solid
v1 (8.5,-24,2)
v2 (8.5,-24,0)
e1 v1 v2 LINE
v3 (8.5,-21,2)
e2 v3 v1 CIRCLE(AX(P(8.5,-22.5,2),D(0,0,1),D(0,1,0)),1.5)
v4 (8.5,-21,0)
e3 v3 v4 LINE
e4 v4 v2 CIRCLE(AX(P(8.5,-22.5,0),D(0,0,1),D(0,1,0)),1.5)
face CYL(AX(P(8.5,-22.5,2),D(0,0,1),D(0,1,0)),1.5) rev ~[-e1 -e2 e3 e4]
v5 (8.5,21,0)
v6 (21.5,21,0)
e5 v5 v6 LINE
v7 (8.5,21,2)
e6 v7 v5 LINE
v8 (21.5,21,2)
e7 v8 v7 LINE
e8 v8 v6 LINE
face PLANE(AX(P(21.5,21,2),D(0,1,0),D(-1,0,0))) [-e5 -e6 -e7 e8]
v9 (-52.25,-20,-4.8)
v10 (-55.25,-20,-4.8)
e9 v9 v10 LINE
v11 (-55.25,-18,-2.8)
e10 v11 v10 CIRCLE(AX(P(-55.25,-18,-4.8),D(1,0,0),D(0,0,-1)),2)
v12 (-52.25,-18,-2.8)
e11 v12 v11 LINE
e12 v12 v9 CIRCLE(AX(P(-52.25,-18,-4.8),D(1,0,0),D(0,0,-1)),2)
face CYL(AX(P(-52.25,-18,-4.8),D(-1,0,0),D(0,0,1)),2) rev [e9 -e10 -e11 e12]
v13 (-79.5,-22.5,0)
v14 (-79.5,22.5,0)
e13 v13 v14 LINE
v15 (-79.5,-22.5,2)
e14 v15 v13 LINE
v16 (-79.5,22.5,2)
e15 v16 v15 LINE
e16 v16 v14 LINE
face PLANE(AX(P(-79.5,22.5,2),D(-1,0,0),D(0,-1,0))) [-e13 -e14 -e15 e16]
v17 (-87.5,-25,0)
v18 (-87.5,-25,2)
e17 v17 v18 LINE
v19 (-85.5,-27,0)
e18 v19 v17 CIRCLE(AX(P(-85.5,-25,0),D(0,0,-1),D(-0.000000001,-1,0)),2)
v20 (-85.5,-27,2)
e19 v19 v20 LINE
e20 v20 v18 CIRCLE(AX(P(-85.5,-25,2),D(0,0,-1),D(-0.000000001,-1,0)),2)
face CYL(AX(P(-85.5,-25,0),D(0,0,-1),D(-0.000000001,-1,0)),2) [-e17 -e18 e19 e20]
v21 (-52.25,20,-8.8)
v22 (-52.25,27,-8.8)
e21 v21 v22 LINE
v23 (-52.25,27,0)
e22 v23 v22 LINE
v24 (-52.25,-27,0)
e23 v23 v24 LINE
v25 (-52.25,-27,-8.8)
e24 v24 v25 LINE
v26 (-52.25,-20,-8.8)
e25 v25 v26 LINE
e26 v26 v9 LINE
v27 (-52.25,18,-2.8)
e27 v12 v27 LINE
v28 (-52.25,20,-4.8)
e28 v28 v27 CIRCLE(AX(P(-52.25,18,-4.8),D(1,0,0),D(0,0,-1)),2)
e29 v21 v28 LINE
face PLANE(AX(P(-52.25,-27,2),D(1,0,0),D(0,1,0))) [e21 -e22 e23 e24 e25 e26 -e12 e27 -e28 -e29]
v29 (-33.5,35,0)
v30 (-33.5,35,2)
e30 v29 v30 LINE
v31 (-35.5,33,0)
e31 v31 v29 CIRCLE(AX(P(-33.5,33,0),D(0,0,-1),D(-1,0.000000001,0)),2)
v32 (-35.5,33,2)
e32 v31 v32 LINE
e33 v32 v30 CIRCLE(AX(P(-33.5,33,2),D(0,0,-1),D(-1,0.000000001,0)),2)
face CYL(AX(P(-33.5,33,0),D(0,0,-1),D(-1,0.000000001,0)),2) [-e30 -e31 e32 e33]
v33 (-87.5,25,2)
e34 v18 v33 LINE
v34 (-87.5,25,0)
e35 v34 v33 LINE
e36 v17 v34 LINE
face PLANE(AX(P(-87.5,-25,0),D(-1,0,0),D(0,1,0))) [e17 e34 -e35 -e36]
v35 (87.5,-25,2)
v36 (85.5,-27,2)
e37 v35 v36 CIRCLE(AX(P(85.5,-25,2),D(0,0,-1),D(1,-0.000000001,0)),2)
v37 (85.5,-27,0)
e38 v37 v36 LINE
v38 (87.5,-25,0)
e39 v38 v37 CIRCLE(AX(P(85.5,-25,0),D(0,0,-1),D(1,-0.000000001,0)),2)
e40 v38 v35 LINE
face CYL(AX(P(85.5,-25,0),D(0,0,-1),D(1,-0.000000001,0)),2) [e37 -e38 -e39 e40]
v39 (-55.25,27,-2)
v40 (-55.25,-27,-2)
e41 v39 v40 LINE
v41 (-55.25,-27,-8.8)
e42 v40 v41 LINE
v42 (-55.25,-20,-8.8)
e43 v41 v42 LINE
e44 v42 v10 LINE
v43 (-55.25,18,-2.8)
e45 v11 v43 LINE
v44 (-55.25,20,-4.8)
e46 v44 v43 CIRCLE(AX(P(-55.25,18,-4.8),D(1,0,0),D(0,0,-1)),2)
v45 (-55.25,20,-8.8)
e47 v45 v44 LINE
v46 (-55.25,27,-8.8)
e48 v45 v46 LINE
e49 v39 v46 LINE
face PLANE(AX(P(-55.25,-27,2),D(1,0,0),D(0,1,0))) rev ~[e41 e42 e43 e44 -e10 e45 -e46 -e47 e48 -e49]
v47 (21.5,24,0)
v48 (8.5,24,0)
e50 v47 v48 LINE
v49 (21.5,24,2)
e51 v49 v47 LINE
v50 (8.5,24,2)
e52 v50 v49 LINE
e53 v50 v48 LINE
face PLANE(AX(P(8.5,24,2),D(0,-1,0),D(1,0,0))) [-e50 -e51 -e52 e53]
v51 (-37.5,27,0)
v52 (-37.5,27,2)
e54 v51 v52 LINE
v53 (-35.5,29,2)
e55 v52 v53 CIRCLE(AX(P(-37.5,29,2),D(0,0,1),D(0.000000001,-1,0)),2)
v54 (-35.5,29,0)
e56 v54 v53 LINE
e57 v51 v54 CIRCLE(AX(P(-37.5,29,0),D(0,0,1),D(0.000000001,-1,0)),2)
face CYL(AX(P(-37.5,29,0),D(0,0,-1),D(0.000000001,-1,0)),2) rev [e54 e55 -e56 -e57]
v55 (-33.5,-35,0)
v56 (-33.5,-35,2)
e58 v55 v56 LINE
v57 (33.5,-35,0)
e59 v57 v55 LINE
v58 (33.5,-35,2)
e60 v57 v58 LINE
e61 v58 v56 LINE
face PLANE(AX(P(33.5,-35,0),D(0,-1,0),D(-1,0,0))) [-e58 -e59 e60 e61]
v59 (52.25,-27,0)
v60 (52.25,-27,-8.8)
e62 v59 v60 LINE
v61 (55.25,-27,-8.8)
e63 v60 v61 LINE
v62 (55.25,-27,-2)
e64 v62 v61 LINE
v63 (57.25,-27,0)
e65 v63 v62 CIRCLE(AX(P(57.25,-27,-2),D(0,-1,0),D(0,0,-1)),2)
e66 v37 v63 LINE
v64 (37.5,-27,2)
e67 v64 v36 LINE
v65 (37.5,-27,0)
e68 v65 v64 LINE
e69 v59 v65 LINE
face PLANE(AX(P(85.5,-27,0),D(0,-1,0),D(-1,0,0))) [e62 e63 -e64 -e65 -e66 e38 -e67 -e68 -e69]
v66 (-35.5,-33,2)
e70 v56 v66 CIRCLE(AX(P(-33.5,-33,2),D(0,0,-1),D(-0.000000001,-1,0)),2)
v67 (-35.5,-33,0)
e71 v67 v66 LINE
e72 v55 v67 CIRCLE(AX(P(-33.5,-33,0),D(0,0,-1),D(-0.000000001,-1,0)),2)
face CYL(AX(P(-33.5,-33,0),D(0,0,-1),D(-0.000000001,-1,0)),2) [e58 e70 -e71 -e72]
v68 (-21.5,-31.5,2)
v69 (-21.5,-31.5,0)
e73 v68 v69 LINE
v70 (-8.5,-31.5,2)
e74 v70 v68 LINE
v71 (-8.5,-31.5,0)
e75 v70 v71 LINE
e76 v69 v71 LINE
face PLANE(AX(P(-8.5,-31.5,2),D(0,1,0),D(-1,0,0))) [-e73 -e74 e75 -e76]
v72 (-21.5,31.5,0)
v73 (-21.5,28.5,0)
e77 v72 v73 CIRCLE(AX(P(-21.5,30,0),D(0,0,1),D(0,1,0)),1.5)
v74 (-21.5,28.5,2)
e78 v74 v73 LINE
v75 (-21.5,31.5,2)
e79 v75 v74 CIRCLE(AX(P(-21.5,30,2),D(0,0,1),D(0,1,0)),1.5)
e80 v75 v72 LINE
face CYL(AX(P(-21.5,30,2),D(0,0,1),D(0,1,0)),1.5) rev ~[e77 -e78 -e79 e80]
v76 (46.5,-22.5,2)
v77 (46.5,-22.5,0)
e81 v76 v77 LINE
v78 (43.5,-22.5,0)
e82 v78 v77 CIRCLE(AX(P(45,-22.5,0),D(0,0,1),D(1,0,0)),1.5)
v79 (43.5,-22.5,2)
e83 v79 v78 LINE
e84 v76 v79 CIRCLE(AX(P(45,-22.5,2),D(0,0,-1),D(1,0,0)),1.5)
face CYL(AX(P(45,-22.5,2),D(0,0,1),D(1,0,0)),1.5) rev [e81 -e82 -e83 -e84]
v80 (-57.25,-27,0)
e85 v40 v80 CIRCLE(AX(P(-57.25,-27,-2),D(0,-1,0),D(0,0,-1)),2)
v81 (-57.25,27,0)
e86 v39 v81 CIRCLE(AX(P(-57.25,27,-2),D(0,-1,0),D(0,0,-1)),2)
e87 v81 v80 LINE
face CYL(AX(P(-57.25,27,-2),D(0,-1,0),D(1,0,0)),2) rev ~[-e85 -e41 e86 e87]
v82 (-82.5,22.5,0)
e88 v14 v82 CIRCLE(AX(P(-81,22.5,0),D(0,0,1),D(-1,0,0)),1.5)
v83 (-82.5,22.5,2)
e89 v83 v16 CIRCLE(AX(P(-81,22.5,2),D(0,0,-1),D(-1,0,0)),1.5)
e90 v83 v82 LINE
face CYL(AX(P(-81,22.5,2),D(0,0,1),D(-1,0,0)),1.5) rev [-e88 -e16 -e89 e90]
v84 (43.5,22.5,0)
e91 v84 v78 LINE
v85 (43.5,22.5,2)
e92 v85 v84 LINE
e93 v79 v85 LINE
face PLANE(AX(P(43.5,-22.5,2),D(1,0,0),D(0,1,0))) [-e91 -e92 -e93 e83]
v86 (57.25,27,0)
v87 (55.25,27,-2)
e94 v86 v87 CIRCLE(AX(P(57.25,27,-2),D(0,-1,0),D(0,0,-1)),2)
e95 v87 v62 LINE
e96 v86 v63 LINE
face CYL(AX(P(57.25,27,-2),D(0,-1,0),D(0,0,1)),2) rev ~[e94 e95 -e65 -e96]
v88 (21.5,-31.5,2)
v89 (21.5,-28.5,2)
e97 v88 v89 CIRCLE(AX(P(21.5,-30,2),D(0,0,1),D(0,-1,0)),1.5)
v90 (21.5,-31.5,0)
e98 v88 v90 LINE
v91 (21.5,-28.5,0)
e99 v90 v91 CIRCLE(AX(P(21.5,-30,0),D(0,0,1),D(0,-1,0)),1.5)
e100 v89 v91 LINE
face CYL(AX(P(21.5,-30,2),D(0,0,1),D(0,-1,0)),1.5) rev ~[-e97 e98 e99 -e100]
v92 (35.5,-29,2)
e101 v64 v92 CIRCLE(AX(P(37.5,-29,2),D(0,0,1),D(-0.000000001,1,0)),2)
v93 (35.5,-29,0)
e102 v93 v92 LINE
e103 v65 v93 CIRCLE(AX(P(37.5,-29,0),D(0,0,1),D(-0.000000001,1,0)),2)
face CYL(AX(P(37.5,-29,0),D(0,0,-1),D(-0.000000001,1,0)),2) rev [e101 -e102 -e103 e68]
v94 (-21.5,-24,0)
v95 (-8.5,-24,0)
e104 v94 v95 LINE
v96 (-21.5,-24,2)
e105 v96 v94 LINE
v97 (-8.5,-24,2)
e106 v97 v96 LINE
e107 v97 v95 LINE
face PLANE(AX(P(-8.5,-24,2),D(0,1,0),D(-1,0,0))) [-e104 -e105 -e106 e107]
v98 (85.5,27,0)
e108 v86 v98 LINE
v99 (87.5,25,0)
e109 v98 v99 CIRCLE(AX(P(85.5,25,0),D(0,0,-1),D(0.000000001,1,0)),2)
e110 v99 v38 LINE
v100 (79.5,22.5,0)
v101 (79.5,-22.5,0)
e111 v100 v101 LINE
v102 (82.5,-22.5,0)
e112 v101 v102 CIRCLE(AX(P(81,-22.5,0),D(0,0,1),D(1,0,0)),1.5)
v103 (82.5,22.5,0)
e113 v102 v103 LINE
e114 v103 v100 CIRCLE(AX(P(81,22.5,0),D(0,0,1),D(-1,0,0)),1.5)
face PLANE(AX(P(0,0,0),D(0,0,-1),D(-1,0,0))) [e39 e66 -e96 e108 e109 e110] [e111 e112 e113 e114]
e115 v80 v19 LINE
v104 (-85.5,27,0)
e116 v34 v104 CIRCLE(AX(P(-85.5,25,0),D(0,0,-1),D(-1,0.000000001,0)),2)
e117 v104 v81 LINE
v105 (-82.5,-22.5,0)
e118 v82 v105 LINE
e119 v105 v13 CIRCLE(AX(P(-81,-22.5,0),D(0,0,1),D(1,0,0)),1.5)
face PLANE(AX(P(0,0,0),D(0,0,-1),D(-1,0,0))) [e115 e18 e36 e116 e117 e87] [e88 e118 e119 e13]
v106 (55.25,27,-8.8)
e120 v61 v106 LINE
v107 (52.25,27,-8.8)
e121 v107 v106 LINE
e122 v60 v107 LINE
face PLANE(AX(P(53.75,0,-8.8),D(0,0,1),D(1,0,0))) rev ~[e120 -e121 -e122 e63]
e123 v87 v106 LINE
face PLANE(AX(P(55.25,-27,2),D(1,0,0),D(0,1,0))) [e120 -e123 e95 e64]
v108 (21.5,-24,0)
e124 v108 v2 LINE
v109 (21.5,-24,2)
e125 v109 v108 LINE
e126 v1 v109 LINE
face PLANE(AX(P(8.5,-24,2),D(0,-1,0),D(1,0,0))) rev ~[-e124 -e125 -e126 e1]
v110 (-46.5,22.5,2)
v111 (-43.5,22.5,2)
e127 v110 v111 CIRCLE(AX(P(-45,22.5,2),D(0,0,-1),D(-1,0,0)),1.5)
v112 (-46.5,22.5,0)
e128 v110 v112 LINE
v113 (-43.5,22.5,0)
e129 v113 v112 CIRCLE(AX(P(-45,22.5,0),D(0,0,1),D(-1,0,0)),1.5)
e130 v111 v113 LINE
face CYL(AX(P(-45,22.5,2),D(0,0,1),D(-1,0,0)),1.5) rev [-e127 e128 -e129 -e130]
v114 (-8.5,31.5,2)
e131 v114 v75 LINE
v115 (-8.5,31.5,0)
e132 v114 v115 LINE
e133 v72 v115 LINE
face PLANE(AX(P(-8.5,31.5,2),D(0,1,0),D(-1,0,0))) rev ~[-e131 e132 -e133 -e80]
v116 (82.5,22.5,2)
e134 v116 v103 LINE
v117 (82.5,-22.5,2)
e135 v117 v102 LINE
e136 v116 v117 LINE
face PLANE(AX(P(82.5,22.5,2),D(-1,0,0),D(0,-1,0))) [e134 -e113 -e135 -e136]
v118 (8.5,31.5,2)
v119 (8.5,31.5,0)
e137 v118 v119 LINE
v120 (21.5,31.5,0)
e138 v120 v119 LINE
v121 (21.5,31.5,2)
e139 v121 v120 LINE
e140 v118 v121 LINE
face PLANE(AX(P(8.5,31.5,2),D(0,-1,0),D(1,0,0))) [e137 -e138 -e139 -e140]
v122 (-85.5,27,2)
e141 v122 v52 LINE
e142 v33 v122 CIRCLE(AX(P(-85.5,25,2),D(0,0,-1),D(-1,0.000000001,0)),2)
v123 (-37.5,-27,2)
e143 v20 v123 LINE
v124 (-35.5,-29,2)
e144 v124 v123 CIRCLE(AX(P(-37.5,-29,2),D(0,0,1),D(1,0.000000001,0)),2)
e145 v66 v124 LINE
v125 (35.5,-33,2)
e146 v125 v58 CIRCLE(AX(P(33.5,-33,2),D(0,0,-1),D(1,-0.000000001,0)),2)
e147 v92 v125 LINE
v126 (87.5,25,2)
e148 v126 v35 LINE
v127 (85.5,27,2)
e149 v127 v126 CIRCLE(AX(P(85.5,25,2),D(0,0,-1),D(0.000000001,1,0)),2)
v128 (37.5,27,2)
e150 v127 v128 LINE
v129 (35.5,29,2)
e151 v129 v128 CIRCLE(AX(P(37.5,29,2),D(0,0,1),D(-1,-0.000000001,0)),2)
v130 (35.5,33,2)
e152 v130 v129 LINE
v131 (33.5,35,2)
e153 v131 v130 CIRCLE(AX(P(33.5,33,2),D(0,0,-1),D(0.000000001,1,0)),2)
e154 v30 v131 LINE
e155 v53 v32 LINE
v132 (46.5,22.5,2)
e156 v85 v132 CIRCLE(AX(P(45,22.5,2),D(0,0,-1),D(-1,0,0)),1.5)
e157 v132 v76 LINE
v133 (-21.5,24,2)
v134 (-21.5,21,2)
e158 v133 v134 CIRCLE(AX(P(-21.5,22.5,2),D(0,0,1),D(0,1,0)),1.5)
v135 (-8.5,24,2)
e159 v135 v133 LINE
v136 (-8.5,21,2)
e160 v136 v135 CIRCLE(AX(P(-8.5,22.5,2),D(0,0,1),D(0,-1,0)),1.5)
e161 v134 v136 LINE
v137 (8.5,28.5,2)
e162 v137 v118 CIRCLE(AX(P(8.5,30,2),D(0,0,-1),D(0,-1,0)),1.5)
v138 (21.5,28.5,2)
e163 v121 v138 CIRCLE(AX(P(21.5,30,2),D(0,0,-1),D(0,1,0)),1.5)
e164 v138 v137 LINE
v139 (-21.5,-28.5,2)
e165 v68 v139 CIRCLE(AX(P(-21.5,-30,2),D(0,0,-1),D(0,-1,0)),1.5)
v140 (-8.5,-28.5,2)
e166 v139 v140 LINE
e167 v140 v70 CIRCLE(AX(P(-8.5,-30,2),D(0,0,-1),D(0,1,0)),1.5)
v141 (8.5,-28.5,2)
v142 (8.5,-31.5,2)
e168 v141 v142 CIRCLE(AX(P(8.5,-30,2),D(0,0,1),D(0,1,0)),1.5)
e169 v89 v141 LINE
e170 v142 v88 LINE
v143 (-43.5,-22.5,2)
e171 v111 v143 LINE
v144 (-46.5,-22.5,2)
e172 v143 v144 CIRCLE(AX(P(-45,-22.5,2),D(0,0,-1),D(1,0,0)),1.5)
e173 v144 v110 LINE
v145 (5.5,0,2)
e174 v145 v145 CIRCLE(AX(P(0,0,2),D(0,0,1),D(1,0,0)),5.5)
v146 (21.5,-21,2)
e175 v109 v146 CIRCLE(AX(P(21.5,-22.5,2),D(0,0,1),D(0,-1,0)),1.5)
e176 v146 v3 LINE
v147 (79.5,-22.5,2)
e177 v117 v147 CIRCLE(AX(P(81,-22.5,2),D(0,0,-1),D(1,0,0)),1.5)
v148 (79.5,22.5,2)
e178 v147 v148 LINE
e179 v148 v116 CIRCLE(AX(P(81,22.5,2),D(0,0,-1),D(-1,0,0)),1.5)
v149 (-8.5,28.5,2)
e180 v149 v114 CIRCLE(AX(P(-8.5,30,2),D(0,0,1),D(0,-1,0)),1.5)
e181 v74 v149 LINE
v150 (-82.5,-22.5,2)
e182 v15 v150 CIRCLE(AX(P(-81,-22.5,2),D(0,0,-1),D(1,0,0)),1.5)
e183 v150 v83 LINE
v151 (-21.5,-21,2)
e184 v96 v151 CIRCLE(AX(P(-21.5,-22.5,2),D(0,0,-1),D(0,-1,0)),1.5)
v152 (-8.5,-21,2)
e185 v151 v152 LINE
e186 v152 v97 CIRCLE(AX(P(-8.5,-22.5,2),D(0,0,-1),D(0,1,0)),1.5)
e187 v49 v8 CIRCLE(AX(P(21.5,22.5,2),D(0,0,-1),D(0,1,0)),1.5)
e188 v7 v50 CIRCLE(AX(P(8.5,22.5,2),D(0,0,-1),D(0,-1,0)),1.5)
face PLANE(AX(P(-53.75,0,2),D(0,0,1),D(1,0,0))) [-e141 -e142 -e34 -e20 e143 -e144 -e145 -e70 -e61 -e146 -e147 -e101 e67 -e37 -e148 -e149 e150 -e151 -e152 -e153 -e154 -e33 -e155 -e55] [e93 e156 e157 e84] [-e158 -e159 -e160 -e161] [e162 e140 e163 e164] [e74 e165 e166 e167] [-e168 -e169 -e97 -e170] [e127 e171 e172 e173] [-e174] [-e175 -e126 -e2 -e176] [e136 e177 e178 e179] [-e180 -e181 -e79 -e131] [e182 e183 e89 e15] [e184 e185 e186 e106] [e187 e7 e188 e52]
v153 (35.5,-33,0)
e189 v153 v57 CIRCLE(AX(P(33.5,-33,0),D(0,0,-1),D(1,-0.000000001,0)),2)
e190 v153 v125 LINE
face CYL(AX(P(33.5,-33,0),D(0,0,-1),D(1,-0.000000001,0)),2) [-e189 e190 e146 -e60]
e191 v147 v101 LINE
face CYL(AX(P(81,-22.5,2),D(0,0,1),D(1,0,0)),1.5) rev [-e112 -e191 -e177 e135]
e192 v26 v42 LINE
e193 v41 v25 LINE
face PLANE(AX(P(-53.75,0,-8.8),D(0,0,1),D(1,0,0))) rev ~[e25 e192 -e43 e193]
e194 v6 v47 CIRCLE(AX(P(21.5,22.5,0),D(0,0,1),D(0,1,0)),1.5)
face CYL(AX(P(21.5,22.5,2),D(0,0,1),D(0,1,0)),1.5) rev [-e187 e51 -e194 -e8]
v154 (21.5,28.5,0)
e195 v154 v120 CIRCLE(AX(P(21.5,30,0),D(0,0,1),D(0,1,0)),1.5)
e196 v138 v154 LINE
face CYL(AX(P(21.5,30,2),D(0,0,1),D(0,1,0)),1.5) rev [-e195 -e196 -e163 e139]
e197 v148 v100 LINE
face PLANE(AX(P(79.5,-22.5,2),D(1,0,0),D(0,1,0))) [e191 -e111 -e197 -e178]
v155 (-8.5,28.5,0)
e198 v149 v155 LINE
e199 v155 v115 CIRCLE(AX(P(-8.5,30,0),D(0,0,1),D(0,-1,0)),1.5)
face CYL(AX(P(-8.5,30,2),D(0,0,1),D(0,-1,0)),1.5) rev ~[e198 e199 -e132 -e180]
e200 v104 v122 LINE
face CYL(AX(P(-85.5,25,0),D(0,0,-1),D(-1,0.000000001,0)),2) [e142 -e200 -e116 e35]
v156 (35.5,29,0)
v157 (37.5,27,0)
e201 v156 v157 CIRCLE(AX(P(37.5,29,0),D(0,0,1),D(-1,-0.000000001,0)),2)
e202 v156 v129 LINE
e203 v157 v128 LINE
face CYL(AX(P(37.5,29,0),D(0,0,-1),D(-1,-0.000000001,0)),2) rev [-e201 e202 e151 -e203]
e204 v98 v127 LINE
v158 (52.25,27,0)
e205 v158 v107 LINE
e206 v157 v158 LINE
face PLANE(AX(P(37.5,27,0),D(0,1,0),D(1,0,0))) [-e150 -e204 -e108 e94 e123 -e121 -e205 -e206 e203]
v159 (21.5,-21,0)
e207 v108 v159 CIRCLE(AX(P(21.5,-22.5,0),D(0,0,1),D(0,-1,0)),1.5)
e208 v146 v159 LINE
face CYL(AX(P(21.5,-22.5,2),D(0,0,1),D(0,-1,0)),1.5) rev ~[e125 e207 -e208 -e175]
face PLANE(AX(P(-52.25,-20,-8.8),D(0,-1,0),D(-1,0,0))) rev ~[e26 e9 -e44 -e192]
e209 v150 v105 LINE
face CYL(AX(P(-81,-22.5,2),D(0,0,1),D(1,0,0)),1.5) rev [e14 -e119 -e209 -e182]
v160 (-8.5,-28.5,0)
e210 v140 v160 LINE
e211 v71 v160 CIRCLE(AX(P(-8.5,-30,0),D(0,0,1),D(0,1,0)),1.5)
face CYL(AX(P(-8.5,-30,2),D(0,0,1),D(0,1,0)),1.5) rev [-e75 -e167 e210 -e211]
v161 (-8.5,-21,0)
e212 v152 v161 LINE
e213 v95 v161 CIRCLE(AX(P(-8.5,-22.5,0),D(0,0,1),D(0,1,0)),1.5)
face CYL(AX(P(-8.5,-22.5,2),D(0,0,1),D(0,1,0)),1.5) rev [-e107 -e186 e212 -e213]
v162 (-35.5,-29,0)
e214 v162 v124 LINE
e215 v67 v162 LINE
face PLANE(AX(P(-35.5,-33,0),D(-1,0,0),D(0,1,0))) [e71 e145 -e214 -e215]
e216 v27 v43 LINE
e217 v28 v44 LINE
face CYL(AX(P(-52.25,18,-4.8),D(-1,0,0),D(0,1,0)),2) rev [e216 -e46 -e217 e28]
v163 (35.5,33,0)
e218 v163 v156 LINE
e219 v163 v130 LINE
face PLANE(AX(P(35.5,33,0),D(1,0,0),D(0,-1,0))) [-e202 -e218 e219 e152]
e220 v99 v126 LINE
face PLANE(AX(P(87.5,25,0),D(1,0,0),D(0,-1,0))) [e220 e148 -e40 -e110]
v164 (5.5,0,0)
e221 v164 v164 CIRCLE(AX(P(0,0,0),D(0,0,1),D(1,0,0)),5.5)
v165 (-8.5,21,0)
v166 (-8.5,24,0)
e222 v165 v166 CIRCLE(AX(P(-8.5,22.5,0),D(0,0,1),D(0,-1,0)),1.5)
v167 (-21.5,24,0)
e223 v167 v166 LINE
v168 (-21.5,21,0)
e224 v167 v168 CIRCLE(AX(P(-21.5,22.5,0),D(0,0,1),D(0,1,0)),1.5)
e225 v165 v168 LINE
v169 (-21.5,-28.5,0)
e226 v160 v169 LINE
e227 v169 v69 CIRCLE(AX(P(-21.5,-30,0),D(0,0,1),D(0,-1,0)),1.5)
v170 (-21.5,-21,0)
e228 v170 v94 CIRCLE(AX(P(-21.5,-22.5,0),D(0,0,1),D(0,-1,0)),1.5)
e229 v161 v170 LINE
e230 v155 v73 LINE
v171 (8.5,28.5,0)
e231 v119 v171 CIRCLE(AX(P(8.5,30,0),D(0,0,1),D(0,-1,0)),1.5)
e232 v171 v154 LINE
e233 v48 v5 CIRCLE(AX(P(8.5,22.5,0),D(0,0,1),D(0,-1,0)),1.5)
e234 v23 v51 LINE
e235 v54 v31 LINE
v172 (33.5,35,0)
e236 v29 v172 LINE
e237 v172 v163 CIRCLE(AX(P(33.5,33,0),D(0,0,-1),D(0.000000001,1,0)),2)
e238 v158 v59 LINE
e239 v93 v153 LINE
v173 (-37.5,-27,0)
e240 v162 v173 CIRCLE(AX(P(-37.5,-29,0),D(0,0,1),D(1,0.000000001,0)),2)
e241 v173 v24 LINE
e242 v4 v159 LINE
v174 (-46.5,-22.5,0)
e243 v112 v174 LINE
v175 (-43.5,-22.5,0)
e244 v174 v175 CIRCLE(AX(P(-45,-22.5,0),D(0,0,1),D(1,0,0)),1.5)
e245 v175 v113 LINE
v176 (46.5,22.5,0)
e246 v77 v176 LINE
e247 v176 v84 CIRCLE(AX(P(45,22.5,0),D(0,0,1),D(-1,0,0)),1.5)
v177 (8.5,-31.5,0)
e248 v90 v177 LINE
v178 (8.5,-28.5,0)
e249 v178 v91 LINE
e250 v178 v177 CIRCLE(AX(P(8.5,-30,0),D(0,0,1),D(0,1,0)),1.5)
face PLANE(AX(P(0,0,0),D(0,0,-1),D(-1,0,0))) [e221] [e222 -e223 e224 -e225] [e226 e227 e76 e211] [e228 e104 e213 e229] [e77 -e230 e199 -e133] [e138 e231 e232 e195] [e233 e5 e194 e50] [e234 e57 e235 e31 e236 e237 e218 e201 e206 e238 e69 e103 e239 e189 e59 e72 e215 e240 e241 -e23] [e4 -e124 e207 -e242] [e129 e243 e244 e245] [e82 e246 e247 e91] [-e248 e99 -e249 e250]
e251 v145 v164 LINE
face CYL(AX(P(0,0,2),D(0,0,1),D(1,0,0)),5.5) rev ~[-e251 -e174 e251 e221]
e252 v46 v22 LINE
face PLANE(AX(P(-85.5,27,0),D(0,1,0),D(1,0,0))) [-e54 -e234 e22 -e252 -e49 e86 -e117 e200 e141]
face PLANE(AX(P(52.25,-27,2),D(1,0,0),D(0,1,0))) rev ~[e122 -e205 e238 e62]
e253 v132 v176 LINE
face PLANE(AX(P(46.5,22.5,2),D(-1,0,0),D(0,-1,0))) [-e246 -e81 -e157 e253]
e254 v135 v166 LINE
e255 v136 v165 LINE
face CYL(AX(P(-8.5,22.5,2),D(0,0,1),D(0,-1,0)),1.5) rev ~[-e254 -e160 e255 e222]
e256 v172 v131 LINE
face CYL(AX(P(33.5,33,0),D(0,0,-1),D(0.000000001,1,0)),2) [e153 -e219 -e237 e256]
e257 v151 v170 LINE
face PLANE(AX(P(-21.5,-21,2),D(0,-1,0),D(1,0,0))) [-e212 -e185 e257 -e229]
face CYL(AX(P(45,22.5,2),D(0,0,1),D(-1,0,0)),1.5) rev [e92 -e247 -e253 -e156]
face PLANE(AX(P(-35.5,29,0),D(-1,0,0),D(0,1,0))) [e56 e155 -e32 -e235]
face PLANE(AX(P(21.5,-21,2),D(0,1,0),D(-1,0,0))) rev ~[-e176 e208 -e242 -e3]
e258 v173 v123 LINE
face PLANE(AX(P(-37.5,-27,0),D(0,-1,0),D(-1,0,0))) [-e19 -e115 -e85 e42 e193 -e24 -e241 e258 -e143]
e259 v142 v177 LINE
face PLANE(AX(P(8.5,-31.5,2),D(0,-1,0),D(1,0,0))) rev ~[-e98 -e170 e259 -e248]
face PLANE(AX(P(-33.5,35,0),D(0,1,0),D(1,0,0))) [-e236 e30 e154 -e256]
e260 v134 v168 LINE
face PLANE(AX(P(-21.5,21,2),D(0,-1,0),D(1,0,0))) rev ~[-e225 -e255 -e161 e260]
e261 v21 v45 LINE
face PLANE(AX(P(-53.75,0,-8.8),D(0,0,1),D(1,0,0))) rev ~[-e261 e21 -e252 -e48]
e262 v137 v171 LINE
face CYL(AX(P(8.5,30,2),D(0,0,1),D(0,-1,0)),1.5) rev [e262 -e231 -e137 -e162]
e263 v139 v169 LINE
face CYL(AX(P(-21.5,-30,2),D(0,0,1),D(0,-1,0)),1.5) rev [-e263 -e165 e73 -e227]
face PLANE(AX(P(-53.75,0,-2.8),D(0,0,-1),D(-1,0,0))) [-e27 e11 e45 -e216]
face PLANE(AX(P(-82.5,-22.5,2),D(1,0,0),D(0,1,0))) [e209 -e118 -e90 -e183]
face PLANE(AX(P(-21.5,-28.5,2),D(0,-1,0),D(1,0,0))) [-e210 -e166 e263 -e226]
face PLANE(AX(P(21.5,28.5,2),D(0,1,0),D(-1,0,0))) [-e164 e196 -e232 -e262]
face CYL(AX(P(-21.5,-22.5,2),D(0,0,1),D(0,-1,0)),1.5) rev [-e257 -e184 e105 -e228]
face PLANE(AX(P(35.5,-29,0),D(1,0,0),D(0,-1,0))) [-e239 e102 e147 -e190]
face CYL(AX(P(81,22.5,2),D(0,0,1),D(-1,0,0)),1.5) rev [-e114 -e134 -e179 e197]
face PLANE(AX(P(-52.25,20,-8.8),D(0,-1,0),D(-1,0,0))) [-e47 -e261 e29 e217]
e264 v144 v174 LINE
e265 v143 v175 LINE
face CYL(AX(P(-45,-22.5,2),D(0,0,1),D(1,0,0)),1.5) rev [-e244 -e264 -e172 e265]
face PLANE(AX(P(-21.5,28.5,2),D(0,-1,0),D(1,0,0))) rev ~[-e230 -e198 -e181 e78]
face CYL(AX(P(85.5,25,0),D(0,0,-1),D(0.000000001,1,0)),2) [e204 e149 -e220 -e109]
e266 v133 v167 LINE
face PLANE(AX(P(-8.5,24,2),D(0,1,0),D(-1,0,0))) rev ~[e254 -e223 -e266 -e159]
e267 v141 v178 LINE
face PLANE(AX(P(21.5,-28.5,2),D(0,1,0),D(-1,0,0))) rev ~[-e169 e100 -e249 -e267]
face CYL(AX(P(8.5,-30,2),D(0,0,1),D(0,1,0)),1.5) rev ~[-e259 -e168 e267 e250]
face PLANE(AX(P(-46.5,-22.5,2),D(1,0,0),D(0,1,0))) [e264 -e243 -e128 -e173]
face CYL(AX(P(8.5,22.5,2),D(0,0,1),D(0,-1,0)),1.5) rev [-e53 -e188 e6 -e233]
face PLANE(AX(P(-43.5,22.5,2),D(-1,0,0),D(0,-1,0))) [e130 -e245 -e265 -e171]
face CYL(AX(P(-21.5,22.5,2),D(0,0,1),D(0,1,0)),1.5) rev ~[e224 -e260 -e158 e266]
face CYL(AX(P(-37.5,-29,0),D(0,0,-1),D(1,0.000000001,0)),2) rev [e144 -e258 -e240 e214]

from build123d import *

# Parameters (mm, degrees)
EXTRUDE_1_DEPTH     = 2
SKETCH_2_R          = 5.5
CUT_EXTRUDE_1_DEPTH = 95.26160406
SKETCH_5_W          = 3
SKETCH_5_H          = 54
EXTRUDE_2_DEPTH     = 10.8
FILLET_1_R          = 2
SKETCH_6_W          = 3
SKETCH_6_H          = 40
CUT_EXTRUDE_3_DEPTH = 6
FILLET_2_R          = 2
FILLET_3_R          = 2


with BuildPart() as part:
    # 草圖1 → 填料-伸長1 (new body)
    with BuildSketch(Plane.XY):
        with BuildLine():
            Line((35.5, 33), (35.5, 29))
            ThreePointArc((35.5, 29), (36.085786438, 27.585786438), (37.5, 27))
            Line((37.5, 27), (85.5, 27))
            ThreePointArc((85.5, 27), (86.914213562, 26.414213562), (87.5, 25))
            Line((87.5, 25), (87.5, -25))
            ThreePointArc((87.5, -25), (86.914213562, -26.414213562), (85.5, -27))
            Line((85.5, -27), (37.5, -27))
            ThreePointArc((37.5, -27), (36.085786438, -27.585786438), (35.5, -29))
            Line((35.5, -29), (35.5, -33))
            ThreePointArc((35.5, -33), (34.914213562, -34.414213562), (33.5, -35))
            Line((33.5, -35), (-33.5, -35))
            ThreePointArc((-33.5, -35), (-34.914213562, -34.414213562), (-35.5, -33))
            Line((-35.5, -33), (-35.5, -29))
            ThreePointArc((-35.5, -29), (-36.085786438, -27.585786438), (-37.5, -27))
            Line((-37.5, -27), (-85.5, -27))
            ThreePointArc((-85.5, -27), (-86.914213562, -26.414213562), (-87.5, -25))
            Line((-87.5, -25), (-87.5, 25))
            ThreePointArc((-87.5, 25), (-86.914213562, 26.414213562), (-85.5, 27))
            Line((-85.5, 27), (-37.5, 27))
            ThreePointArc((-37.5, 27), (-36.085786438, 27.585786438), (-35.5, 29))
            Line((-35.5, 29), (-35.5, 33))
            ThreePointArc((-35.5, 33), (-34.914213562, 34.414213562), (-33.5, 35))
            Line((-33.5, 35), (33.5, 35))
            ThreePointArc((33.5, 35), (34.914213562, 34.414213562), (35.5, 33))
        make_face()
    extrude(amount=EXTRUDE_1_DEPTH)

    # 草圖2 → 除料-伸長1 (cut, through all)
    with BuildSketch(Plane.XY.offset(2)):
        Circle(SKETCH_2_R)
        with BuildLine():
            Line((43.5, -22.5), (43.5, 22.5))
            ThreePointArc((43.5, 22.5), (45, 24), (46.5, 22.5))
            Line((46.5, 22.5), (46.5, -22.5))
            ThreePointArc((46.5, -22.5), (45, -24), (43.5, -22.5))
        make_face()
        with BuildLine():
            Line((-46.5, -22.5), (-46.5, 22.5))
            ThreePointArc((-46.5, 22.5), (-45, 24), (-43.5, 22.5))
            Line((-43.5, 22.5), (-43.5, -22.5))
            ThreePointArc((-43.5, -22.5), (-45, -24), (-46.5, -22.5))
        make_face()
        with BuildLine():
            Line((21.5, 28.5), (8.5, 28.5))
            ThreePointArc((8.5, 28.5), (7, 30), (8.5, 31.5))
            Line((8.5, 31.5), (21.5, 31.5))
            ThreePointArc((21.5, 31.5), (23, 30), (21.5, 28.5))
        make_face()
        with BuildLine():
            Line((-82.5, -22.5), (-82.5, 22.5))
            ThreePointArc((-82.5, 22.5), (-81, 24), (-79.5, 22.5))
            Line((-79.5, 22.5), (-79.5, -22.5))
            ThreePointArc((-79.5, -22.5), (-81, -24), (-82.5, -22.5))
        make_face()
        with BuildLine():
            Line((79.5, -22.5), (79.5, 22.5))
            ThreePointArc((79.5, 22.5), (81, 24), (82.5, 22.5))
            Line((82.5, 22.5), (82.5, -22.5))
            ThreePointArc((82.5, -22.5), (81, -24), (79.5, -22.5))
        make_face()
        with BuildLine():
            Line((21.5, 21), (8.5, 21))
            ThreePointArc((8.5, 21), (7, 22.5), (8.5, 24))
            Line((8.5, 24), (21.5, 24))
            ThreePointArc((21.5, 24), (23, 22.5), (21.5, 21))
        make_face()
        with BuildLine():
            Line((-21.5, 28.5), (-8.5, 28.5))
            ThreePointArc((-8.5, 28.5), (-7, 30), (-8.5, 31.5))
            Line((-8.5, 31.5), (-21.5, 31.5))
            ThreePointArc((-21.5, 31.5), (-23, 30), (-21.5, 28.5))
        make_face()
        with BuildLine():
            Line((-21.5, 21), (-8.5, 21))
            ThreePointArc((-8.5, 21), (-7, 22.5), (-8.5, 24))
            Line((-8.5, 24), (-21.5, 24))
            ThreePointArc((-21.5, 24), (-23, 22.5), (-21.5, 21))
        make_face()
        with BuildLine():
            Line((21.5, -28.5), (8.5, -28.5))
            ThreePointArc((8.5, -28.5), (7, -30), (8.5, -31.5))
            Line((8.5, -31.5), (21.5, -31.5))
            ThreePointArc((21.5, -31.5), (23, -30), (21.5, -28.5))
        make_face()
        with BuildLine():
            Line((21.5, -21), (8.5, -21))
            ThreePointArc((8.5, -21), (7, -22.5), (8.5, -24))
            Line((8.5, -24), (21.5, -24))
            ThreePointArc((21.5, -24), (23, -22.5), (21.5, -21))
        make_face()
        with BuildLine():
            Line((-21.5, -28.5), (-8.5, -28.5))
            ThreePointArc((-8.5, -28.5), (-7, -30), (-8.5, -31.5))
            Line((-8.5, -31.5), (-21.5, -31.5))
            ThreePointArc((-21.5, -31.5), (-23, -30), (-21.5, -28.5))
        make_face()
        with BuildLine():
            Line((-21.5, -21), (-8.5, -21))
            ThreePointArc((-8.5, -21), (-7, -22.5), (-8.5, -24))
            Line((-8.5, -24), (-21.5, -24))
            ThreePointArc((-21.5, -24), (-23, -22.5), (-21.5, -21))
        make_face()
    extrude(amount=-CUT_EXTRUDE_1_DEPTH, mode=Mode.SUBTRACT)

    # 草圖5 → 填料-伸長2 (add)
    with BuildSketch(Plane.XY.offset(2)):
        with Locations((-53.75, 0)):
            Rectangle(SKETCH_5_W, SKETCH_5_H)
        with Locations((53.75, 0)):
            Rectangle(SKETCH_5_W, SKETCH_5_H)
    extrude(amount=-EXTRUDE_2_DEPTH)

    # 圓角1
    fillet_1_edges = [part.edges().sort_by_distance(p)[0] for p in [
        (55.25, 0, 0),
    ]]
    fillet(fillet_1_edges, radius=FILLET_1_R)

    # 草圖6 → 除料-伸長3 (cut)
    with BuildSketch(Plane(origin=(0, 0, -8.8), x_dir=(-1, 0, 0), z_dir=(0, 0, -1))):
        with Locations((53.75, 0)):
            Rectangle(SKETCH_6_W, SKETCH_6_H)
    extrude(amount=-CUT_EXTRUDE_3_DEPTH, mode=Mode.SUBTRACT)

    # 圓角2
    fillet_2_edges = [part.edges().sort_by_distance(p)[0] for p in [
        (-53.75, -20, -2.8),
        (-53.75, 20, -2.8),
    ]]
    fillet(fillet_2_edges, radius=FILLET_2_R)

    # 圓角3
    fillet_3_edges = [part.edges().sort_by_distance(p)[0] for p in [
        (-55.25, 0, 0),
    ]]
    fillet(fillet_3_edges, radius=FILLET_3_R)


solid = part.part
